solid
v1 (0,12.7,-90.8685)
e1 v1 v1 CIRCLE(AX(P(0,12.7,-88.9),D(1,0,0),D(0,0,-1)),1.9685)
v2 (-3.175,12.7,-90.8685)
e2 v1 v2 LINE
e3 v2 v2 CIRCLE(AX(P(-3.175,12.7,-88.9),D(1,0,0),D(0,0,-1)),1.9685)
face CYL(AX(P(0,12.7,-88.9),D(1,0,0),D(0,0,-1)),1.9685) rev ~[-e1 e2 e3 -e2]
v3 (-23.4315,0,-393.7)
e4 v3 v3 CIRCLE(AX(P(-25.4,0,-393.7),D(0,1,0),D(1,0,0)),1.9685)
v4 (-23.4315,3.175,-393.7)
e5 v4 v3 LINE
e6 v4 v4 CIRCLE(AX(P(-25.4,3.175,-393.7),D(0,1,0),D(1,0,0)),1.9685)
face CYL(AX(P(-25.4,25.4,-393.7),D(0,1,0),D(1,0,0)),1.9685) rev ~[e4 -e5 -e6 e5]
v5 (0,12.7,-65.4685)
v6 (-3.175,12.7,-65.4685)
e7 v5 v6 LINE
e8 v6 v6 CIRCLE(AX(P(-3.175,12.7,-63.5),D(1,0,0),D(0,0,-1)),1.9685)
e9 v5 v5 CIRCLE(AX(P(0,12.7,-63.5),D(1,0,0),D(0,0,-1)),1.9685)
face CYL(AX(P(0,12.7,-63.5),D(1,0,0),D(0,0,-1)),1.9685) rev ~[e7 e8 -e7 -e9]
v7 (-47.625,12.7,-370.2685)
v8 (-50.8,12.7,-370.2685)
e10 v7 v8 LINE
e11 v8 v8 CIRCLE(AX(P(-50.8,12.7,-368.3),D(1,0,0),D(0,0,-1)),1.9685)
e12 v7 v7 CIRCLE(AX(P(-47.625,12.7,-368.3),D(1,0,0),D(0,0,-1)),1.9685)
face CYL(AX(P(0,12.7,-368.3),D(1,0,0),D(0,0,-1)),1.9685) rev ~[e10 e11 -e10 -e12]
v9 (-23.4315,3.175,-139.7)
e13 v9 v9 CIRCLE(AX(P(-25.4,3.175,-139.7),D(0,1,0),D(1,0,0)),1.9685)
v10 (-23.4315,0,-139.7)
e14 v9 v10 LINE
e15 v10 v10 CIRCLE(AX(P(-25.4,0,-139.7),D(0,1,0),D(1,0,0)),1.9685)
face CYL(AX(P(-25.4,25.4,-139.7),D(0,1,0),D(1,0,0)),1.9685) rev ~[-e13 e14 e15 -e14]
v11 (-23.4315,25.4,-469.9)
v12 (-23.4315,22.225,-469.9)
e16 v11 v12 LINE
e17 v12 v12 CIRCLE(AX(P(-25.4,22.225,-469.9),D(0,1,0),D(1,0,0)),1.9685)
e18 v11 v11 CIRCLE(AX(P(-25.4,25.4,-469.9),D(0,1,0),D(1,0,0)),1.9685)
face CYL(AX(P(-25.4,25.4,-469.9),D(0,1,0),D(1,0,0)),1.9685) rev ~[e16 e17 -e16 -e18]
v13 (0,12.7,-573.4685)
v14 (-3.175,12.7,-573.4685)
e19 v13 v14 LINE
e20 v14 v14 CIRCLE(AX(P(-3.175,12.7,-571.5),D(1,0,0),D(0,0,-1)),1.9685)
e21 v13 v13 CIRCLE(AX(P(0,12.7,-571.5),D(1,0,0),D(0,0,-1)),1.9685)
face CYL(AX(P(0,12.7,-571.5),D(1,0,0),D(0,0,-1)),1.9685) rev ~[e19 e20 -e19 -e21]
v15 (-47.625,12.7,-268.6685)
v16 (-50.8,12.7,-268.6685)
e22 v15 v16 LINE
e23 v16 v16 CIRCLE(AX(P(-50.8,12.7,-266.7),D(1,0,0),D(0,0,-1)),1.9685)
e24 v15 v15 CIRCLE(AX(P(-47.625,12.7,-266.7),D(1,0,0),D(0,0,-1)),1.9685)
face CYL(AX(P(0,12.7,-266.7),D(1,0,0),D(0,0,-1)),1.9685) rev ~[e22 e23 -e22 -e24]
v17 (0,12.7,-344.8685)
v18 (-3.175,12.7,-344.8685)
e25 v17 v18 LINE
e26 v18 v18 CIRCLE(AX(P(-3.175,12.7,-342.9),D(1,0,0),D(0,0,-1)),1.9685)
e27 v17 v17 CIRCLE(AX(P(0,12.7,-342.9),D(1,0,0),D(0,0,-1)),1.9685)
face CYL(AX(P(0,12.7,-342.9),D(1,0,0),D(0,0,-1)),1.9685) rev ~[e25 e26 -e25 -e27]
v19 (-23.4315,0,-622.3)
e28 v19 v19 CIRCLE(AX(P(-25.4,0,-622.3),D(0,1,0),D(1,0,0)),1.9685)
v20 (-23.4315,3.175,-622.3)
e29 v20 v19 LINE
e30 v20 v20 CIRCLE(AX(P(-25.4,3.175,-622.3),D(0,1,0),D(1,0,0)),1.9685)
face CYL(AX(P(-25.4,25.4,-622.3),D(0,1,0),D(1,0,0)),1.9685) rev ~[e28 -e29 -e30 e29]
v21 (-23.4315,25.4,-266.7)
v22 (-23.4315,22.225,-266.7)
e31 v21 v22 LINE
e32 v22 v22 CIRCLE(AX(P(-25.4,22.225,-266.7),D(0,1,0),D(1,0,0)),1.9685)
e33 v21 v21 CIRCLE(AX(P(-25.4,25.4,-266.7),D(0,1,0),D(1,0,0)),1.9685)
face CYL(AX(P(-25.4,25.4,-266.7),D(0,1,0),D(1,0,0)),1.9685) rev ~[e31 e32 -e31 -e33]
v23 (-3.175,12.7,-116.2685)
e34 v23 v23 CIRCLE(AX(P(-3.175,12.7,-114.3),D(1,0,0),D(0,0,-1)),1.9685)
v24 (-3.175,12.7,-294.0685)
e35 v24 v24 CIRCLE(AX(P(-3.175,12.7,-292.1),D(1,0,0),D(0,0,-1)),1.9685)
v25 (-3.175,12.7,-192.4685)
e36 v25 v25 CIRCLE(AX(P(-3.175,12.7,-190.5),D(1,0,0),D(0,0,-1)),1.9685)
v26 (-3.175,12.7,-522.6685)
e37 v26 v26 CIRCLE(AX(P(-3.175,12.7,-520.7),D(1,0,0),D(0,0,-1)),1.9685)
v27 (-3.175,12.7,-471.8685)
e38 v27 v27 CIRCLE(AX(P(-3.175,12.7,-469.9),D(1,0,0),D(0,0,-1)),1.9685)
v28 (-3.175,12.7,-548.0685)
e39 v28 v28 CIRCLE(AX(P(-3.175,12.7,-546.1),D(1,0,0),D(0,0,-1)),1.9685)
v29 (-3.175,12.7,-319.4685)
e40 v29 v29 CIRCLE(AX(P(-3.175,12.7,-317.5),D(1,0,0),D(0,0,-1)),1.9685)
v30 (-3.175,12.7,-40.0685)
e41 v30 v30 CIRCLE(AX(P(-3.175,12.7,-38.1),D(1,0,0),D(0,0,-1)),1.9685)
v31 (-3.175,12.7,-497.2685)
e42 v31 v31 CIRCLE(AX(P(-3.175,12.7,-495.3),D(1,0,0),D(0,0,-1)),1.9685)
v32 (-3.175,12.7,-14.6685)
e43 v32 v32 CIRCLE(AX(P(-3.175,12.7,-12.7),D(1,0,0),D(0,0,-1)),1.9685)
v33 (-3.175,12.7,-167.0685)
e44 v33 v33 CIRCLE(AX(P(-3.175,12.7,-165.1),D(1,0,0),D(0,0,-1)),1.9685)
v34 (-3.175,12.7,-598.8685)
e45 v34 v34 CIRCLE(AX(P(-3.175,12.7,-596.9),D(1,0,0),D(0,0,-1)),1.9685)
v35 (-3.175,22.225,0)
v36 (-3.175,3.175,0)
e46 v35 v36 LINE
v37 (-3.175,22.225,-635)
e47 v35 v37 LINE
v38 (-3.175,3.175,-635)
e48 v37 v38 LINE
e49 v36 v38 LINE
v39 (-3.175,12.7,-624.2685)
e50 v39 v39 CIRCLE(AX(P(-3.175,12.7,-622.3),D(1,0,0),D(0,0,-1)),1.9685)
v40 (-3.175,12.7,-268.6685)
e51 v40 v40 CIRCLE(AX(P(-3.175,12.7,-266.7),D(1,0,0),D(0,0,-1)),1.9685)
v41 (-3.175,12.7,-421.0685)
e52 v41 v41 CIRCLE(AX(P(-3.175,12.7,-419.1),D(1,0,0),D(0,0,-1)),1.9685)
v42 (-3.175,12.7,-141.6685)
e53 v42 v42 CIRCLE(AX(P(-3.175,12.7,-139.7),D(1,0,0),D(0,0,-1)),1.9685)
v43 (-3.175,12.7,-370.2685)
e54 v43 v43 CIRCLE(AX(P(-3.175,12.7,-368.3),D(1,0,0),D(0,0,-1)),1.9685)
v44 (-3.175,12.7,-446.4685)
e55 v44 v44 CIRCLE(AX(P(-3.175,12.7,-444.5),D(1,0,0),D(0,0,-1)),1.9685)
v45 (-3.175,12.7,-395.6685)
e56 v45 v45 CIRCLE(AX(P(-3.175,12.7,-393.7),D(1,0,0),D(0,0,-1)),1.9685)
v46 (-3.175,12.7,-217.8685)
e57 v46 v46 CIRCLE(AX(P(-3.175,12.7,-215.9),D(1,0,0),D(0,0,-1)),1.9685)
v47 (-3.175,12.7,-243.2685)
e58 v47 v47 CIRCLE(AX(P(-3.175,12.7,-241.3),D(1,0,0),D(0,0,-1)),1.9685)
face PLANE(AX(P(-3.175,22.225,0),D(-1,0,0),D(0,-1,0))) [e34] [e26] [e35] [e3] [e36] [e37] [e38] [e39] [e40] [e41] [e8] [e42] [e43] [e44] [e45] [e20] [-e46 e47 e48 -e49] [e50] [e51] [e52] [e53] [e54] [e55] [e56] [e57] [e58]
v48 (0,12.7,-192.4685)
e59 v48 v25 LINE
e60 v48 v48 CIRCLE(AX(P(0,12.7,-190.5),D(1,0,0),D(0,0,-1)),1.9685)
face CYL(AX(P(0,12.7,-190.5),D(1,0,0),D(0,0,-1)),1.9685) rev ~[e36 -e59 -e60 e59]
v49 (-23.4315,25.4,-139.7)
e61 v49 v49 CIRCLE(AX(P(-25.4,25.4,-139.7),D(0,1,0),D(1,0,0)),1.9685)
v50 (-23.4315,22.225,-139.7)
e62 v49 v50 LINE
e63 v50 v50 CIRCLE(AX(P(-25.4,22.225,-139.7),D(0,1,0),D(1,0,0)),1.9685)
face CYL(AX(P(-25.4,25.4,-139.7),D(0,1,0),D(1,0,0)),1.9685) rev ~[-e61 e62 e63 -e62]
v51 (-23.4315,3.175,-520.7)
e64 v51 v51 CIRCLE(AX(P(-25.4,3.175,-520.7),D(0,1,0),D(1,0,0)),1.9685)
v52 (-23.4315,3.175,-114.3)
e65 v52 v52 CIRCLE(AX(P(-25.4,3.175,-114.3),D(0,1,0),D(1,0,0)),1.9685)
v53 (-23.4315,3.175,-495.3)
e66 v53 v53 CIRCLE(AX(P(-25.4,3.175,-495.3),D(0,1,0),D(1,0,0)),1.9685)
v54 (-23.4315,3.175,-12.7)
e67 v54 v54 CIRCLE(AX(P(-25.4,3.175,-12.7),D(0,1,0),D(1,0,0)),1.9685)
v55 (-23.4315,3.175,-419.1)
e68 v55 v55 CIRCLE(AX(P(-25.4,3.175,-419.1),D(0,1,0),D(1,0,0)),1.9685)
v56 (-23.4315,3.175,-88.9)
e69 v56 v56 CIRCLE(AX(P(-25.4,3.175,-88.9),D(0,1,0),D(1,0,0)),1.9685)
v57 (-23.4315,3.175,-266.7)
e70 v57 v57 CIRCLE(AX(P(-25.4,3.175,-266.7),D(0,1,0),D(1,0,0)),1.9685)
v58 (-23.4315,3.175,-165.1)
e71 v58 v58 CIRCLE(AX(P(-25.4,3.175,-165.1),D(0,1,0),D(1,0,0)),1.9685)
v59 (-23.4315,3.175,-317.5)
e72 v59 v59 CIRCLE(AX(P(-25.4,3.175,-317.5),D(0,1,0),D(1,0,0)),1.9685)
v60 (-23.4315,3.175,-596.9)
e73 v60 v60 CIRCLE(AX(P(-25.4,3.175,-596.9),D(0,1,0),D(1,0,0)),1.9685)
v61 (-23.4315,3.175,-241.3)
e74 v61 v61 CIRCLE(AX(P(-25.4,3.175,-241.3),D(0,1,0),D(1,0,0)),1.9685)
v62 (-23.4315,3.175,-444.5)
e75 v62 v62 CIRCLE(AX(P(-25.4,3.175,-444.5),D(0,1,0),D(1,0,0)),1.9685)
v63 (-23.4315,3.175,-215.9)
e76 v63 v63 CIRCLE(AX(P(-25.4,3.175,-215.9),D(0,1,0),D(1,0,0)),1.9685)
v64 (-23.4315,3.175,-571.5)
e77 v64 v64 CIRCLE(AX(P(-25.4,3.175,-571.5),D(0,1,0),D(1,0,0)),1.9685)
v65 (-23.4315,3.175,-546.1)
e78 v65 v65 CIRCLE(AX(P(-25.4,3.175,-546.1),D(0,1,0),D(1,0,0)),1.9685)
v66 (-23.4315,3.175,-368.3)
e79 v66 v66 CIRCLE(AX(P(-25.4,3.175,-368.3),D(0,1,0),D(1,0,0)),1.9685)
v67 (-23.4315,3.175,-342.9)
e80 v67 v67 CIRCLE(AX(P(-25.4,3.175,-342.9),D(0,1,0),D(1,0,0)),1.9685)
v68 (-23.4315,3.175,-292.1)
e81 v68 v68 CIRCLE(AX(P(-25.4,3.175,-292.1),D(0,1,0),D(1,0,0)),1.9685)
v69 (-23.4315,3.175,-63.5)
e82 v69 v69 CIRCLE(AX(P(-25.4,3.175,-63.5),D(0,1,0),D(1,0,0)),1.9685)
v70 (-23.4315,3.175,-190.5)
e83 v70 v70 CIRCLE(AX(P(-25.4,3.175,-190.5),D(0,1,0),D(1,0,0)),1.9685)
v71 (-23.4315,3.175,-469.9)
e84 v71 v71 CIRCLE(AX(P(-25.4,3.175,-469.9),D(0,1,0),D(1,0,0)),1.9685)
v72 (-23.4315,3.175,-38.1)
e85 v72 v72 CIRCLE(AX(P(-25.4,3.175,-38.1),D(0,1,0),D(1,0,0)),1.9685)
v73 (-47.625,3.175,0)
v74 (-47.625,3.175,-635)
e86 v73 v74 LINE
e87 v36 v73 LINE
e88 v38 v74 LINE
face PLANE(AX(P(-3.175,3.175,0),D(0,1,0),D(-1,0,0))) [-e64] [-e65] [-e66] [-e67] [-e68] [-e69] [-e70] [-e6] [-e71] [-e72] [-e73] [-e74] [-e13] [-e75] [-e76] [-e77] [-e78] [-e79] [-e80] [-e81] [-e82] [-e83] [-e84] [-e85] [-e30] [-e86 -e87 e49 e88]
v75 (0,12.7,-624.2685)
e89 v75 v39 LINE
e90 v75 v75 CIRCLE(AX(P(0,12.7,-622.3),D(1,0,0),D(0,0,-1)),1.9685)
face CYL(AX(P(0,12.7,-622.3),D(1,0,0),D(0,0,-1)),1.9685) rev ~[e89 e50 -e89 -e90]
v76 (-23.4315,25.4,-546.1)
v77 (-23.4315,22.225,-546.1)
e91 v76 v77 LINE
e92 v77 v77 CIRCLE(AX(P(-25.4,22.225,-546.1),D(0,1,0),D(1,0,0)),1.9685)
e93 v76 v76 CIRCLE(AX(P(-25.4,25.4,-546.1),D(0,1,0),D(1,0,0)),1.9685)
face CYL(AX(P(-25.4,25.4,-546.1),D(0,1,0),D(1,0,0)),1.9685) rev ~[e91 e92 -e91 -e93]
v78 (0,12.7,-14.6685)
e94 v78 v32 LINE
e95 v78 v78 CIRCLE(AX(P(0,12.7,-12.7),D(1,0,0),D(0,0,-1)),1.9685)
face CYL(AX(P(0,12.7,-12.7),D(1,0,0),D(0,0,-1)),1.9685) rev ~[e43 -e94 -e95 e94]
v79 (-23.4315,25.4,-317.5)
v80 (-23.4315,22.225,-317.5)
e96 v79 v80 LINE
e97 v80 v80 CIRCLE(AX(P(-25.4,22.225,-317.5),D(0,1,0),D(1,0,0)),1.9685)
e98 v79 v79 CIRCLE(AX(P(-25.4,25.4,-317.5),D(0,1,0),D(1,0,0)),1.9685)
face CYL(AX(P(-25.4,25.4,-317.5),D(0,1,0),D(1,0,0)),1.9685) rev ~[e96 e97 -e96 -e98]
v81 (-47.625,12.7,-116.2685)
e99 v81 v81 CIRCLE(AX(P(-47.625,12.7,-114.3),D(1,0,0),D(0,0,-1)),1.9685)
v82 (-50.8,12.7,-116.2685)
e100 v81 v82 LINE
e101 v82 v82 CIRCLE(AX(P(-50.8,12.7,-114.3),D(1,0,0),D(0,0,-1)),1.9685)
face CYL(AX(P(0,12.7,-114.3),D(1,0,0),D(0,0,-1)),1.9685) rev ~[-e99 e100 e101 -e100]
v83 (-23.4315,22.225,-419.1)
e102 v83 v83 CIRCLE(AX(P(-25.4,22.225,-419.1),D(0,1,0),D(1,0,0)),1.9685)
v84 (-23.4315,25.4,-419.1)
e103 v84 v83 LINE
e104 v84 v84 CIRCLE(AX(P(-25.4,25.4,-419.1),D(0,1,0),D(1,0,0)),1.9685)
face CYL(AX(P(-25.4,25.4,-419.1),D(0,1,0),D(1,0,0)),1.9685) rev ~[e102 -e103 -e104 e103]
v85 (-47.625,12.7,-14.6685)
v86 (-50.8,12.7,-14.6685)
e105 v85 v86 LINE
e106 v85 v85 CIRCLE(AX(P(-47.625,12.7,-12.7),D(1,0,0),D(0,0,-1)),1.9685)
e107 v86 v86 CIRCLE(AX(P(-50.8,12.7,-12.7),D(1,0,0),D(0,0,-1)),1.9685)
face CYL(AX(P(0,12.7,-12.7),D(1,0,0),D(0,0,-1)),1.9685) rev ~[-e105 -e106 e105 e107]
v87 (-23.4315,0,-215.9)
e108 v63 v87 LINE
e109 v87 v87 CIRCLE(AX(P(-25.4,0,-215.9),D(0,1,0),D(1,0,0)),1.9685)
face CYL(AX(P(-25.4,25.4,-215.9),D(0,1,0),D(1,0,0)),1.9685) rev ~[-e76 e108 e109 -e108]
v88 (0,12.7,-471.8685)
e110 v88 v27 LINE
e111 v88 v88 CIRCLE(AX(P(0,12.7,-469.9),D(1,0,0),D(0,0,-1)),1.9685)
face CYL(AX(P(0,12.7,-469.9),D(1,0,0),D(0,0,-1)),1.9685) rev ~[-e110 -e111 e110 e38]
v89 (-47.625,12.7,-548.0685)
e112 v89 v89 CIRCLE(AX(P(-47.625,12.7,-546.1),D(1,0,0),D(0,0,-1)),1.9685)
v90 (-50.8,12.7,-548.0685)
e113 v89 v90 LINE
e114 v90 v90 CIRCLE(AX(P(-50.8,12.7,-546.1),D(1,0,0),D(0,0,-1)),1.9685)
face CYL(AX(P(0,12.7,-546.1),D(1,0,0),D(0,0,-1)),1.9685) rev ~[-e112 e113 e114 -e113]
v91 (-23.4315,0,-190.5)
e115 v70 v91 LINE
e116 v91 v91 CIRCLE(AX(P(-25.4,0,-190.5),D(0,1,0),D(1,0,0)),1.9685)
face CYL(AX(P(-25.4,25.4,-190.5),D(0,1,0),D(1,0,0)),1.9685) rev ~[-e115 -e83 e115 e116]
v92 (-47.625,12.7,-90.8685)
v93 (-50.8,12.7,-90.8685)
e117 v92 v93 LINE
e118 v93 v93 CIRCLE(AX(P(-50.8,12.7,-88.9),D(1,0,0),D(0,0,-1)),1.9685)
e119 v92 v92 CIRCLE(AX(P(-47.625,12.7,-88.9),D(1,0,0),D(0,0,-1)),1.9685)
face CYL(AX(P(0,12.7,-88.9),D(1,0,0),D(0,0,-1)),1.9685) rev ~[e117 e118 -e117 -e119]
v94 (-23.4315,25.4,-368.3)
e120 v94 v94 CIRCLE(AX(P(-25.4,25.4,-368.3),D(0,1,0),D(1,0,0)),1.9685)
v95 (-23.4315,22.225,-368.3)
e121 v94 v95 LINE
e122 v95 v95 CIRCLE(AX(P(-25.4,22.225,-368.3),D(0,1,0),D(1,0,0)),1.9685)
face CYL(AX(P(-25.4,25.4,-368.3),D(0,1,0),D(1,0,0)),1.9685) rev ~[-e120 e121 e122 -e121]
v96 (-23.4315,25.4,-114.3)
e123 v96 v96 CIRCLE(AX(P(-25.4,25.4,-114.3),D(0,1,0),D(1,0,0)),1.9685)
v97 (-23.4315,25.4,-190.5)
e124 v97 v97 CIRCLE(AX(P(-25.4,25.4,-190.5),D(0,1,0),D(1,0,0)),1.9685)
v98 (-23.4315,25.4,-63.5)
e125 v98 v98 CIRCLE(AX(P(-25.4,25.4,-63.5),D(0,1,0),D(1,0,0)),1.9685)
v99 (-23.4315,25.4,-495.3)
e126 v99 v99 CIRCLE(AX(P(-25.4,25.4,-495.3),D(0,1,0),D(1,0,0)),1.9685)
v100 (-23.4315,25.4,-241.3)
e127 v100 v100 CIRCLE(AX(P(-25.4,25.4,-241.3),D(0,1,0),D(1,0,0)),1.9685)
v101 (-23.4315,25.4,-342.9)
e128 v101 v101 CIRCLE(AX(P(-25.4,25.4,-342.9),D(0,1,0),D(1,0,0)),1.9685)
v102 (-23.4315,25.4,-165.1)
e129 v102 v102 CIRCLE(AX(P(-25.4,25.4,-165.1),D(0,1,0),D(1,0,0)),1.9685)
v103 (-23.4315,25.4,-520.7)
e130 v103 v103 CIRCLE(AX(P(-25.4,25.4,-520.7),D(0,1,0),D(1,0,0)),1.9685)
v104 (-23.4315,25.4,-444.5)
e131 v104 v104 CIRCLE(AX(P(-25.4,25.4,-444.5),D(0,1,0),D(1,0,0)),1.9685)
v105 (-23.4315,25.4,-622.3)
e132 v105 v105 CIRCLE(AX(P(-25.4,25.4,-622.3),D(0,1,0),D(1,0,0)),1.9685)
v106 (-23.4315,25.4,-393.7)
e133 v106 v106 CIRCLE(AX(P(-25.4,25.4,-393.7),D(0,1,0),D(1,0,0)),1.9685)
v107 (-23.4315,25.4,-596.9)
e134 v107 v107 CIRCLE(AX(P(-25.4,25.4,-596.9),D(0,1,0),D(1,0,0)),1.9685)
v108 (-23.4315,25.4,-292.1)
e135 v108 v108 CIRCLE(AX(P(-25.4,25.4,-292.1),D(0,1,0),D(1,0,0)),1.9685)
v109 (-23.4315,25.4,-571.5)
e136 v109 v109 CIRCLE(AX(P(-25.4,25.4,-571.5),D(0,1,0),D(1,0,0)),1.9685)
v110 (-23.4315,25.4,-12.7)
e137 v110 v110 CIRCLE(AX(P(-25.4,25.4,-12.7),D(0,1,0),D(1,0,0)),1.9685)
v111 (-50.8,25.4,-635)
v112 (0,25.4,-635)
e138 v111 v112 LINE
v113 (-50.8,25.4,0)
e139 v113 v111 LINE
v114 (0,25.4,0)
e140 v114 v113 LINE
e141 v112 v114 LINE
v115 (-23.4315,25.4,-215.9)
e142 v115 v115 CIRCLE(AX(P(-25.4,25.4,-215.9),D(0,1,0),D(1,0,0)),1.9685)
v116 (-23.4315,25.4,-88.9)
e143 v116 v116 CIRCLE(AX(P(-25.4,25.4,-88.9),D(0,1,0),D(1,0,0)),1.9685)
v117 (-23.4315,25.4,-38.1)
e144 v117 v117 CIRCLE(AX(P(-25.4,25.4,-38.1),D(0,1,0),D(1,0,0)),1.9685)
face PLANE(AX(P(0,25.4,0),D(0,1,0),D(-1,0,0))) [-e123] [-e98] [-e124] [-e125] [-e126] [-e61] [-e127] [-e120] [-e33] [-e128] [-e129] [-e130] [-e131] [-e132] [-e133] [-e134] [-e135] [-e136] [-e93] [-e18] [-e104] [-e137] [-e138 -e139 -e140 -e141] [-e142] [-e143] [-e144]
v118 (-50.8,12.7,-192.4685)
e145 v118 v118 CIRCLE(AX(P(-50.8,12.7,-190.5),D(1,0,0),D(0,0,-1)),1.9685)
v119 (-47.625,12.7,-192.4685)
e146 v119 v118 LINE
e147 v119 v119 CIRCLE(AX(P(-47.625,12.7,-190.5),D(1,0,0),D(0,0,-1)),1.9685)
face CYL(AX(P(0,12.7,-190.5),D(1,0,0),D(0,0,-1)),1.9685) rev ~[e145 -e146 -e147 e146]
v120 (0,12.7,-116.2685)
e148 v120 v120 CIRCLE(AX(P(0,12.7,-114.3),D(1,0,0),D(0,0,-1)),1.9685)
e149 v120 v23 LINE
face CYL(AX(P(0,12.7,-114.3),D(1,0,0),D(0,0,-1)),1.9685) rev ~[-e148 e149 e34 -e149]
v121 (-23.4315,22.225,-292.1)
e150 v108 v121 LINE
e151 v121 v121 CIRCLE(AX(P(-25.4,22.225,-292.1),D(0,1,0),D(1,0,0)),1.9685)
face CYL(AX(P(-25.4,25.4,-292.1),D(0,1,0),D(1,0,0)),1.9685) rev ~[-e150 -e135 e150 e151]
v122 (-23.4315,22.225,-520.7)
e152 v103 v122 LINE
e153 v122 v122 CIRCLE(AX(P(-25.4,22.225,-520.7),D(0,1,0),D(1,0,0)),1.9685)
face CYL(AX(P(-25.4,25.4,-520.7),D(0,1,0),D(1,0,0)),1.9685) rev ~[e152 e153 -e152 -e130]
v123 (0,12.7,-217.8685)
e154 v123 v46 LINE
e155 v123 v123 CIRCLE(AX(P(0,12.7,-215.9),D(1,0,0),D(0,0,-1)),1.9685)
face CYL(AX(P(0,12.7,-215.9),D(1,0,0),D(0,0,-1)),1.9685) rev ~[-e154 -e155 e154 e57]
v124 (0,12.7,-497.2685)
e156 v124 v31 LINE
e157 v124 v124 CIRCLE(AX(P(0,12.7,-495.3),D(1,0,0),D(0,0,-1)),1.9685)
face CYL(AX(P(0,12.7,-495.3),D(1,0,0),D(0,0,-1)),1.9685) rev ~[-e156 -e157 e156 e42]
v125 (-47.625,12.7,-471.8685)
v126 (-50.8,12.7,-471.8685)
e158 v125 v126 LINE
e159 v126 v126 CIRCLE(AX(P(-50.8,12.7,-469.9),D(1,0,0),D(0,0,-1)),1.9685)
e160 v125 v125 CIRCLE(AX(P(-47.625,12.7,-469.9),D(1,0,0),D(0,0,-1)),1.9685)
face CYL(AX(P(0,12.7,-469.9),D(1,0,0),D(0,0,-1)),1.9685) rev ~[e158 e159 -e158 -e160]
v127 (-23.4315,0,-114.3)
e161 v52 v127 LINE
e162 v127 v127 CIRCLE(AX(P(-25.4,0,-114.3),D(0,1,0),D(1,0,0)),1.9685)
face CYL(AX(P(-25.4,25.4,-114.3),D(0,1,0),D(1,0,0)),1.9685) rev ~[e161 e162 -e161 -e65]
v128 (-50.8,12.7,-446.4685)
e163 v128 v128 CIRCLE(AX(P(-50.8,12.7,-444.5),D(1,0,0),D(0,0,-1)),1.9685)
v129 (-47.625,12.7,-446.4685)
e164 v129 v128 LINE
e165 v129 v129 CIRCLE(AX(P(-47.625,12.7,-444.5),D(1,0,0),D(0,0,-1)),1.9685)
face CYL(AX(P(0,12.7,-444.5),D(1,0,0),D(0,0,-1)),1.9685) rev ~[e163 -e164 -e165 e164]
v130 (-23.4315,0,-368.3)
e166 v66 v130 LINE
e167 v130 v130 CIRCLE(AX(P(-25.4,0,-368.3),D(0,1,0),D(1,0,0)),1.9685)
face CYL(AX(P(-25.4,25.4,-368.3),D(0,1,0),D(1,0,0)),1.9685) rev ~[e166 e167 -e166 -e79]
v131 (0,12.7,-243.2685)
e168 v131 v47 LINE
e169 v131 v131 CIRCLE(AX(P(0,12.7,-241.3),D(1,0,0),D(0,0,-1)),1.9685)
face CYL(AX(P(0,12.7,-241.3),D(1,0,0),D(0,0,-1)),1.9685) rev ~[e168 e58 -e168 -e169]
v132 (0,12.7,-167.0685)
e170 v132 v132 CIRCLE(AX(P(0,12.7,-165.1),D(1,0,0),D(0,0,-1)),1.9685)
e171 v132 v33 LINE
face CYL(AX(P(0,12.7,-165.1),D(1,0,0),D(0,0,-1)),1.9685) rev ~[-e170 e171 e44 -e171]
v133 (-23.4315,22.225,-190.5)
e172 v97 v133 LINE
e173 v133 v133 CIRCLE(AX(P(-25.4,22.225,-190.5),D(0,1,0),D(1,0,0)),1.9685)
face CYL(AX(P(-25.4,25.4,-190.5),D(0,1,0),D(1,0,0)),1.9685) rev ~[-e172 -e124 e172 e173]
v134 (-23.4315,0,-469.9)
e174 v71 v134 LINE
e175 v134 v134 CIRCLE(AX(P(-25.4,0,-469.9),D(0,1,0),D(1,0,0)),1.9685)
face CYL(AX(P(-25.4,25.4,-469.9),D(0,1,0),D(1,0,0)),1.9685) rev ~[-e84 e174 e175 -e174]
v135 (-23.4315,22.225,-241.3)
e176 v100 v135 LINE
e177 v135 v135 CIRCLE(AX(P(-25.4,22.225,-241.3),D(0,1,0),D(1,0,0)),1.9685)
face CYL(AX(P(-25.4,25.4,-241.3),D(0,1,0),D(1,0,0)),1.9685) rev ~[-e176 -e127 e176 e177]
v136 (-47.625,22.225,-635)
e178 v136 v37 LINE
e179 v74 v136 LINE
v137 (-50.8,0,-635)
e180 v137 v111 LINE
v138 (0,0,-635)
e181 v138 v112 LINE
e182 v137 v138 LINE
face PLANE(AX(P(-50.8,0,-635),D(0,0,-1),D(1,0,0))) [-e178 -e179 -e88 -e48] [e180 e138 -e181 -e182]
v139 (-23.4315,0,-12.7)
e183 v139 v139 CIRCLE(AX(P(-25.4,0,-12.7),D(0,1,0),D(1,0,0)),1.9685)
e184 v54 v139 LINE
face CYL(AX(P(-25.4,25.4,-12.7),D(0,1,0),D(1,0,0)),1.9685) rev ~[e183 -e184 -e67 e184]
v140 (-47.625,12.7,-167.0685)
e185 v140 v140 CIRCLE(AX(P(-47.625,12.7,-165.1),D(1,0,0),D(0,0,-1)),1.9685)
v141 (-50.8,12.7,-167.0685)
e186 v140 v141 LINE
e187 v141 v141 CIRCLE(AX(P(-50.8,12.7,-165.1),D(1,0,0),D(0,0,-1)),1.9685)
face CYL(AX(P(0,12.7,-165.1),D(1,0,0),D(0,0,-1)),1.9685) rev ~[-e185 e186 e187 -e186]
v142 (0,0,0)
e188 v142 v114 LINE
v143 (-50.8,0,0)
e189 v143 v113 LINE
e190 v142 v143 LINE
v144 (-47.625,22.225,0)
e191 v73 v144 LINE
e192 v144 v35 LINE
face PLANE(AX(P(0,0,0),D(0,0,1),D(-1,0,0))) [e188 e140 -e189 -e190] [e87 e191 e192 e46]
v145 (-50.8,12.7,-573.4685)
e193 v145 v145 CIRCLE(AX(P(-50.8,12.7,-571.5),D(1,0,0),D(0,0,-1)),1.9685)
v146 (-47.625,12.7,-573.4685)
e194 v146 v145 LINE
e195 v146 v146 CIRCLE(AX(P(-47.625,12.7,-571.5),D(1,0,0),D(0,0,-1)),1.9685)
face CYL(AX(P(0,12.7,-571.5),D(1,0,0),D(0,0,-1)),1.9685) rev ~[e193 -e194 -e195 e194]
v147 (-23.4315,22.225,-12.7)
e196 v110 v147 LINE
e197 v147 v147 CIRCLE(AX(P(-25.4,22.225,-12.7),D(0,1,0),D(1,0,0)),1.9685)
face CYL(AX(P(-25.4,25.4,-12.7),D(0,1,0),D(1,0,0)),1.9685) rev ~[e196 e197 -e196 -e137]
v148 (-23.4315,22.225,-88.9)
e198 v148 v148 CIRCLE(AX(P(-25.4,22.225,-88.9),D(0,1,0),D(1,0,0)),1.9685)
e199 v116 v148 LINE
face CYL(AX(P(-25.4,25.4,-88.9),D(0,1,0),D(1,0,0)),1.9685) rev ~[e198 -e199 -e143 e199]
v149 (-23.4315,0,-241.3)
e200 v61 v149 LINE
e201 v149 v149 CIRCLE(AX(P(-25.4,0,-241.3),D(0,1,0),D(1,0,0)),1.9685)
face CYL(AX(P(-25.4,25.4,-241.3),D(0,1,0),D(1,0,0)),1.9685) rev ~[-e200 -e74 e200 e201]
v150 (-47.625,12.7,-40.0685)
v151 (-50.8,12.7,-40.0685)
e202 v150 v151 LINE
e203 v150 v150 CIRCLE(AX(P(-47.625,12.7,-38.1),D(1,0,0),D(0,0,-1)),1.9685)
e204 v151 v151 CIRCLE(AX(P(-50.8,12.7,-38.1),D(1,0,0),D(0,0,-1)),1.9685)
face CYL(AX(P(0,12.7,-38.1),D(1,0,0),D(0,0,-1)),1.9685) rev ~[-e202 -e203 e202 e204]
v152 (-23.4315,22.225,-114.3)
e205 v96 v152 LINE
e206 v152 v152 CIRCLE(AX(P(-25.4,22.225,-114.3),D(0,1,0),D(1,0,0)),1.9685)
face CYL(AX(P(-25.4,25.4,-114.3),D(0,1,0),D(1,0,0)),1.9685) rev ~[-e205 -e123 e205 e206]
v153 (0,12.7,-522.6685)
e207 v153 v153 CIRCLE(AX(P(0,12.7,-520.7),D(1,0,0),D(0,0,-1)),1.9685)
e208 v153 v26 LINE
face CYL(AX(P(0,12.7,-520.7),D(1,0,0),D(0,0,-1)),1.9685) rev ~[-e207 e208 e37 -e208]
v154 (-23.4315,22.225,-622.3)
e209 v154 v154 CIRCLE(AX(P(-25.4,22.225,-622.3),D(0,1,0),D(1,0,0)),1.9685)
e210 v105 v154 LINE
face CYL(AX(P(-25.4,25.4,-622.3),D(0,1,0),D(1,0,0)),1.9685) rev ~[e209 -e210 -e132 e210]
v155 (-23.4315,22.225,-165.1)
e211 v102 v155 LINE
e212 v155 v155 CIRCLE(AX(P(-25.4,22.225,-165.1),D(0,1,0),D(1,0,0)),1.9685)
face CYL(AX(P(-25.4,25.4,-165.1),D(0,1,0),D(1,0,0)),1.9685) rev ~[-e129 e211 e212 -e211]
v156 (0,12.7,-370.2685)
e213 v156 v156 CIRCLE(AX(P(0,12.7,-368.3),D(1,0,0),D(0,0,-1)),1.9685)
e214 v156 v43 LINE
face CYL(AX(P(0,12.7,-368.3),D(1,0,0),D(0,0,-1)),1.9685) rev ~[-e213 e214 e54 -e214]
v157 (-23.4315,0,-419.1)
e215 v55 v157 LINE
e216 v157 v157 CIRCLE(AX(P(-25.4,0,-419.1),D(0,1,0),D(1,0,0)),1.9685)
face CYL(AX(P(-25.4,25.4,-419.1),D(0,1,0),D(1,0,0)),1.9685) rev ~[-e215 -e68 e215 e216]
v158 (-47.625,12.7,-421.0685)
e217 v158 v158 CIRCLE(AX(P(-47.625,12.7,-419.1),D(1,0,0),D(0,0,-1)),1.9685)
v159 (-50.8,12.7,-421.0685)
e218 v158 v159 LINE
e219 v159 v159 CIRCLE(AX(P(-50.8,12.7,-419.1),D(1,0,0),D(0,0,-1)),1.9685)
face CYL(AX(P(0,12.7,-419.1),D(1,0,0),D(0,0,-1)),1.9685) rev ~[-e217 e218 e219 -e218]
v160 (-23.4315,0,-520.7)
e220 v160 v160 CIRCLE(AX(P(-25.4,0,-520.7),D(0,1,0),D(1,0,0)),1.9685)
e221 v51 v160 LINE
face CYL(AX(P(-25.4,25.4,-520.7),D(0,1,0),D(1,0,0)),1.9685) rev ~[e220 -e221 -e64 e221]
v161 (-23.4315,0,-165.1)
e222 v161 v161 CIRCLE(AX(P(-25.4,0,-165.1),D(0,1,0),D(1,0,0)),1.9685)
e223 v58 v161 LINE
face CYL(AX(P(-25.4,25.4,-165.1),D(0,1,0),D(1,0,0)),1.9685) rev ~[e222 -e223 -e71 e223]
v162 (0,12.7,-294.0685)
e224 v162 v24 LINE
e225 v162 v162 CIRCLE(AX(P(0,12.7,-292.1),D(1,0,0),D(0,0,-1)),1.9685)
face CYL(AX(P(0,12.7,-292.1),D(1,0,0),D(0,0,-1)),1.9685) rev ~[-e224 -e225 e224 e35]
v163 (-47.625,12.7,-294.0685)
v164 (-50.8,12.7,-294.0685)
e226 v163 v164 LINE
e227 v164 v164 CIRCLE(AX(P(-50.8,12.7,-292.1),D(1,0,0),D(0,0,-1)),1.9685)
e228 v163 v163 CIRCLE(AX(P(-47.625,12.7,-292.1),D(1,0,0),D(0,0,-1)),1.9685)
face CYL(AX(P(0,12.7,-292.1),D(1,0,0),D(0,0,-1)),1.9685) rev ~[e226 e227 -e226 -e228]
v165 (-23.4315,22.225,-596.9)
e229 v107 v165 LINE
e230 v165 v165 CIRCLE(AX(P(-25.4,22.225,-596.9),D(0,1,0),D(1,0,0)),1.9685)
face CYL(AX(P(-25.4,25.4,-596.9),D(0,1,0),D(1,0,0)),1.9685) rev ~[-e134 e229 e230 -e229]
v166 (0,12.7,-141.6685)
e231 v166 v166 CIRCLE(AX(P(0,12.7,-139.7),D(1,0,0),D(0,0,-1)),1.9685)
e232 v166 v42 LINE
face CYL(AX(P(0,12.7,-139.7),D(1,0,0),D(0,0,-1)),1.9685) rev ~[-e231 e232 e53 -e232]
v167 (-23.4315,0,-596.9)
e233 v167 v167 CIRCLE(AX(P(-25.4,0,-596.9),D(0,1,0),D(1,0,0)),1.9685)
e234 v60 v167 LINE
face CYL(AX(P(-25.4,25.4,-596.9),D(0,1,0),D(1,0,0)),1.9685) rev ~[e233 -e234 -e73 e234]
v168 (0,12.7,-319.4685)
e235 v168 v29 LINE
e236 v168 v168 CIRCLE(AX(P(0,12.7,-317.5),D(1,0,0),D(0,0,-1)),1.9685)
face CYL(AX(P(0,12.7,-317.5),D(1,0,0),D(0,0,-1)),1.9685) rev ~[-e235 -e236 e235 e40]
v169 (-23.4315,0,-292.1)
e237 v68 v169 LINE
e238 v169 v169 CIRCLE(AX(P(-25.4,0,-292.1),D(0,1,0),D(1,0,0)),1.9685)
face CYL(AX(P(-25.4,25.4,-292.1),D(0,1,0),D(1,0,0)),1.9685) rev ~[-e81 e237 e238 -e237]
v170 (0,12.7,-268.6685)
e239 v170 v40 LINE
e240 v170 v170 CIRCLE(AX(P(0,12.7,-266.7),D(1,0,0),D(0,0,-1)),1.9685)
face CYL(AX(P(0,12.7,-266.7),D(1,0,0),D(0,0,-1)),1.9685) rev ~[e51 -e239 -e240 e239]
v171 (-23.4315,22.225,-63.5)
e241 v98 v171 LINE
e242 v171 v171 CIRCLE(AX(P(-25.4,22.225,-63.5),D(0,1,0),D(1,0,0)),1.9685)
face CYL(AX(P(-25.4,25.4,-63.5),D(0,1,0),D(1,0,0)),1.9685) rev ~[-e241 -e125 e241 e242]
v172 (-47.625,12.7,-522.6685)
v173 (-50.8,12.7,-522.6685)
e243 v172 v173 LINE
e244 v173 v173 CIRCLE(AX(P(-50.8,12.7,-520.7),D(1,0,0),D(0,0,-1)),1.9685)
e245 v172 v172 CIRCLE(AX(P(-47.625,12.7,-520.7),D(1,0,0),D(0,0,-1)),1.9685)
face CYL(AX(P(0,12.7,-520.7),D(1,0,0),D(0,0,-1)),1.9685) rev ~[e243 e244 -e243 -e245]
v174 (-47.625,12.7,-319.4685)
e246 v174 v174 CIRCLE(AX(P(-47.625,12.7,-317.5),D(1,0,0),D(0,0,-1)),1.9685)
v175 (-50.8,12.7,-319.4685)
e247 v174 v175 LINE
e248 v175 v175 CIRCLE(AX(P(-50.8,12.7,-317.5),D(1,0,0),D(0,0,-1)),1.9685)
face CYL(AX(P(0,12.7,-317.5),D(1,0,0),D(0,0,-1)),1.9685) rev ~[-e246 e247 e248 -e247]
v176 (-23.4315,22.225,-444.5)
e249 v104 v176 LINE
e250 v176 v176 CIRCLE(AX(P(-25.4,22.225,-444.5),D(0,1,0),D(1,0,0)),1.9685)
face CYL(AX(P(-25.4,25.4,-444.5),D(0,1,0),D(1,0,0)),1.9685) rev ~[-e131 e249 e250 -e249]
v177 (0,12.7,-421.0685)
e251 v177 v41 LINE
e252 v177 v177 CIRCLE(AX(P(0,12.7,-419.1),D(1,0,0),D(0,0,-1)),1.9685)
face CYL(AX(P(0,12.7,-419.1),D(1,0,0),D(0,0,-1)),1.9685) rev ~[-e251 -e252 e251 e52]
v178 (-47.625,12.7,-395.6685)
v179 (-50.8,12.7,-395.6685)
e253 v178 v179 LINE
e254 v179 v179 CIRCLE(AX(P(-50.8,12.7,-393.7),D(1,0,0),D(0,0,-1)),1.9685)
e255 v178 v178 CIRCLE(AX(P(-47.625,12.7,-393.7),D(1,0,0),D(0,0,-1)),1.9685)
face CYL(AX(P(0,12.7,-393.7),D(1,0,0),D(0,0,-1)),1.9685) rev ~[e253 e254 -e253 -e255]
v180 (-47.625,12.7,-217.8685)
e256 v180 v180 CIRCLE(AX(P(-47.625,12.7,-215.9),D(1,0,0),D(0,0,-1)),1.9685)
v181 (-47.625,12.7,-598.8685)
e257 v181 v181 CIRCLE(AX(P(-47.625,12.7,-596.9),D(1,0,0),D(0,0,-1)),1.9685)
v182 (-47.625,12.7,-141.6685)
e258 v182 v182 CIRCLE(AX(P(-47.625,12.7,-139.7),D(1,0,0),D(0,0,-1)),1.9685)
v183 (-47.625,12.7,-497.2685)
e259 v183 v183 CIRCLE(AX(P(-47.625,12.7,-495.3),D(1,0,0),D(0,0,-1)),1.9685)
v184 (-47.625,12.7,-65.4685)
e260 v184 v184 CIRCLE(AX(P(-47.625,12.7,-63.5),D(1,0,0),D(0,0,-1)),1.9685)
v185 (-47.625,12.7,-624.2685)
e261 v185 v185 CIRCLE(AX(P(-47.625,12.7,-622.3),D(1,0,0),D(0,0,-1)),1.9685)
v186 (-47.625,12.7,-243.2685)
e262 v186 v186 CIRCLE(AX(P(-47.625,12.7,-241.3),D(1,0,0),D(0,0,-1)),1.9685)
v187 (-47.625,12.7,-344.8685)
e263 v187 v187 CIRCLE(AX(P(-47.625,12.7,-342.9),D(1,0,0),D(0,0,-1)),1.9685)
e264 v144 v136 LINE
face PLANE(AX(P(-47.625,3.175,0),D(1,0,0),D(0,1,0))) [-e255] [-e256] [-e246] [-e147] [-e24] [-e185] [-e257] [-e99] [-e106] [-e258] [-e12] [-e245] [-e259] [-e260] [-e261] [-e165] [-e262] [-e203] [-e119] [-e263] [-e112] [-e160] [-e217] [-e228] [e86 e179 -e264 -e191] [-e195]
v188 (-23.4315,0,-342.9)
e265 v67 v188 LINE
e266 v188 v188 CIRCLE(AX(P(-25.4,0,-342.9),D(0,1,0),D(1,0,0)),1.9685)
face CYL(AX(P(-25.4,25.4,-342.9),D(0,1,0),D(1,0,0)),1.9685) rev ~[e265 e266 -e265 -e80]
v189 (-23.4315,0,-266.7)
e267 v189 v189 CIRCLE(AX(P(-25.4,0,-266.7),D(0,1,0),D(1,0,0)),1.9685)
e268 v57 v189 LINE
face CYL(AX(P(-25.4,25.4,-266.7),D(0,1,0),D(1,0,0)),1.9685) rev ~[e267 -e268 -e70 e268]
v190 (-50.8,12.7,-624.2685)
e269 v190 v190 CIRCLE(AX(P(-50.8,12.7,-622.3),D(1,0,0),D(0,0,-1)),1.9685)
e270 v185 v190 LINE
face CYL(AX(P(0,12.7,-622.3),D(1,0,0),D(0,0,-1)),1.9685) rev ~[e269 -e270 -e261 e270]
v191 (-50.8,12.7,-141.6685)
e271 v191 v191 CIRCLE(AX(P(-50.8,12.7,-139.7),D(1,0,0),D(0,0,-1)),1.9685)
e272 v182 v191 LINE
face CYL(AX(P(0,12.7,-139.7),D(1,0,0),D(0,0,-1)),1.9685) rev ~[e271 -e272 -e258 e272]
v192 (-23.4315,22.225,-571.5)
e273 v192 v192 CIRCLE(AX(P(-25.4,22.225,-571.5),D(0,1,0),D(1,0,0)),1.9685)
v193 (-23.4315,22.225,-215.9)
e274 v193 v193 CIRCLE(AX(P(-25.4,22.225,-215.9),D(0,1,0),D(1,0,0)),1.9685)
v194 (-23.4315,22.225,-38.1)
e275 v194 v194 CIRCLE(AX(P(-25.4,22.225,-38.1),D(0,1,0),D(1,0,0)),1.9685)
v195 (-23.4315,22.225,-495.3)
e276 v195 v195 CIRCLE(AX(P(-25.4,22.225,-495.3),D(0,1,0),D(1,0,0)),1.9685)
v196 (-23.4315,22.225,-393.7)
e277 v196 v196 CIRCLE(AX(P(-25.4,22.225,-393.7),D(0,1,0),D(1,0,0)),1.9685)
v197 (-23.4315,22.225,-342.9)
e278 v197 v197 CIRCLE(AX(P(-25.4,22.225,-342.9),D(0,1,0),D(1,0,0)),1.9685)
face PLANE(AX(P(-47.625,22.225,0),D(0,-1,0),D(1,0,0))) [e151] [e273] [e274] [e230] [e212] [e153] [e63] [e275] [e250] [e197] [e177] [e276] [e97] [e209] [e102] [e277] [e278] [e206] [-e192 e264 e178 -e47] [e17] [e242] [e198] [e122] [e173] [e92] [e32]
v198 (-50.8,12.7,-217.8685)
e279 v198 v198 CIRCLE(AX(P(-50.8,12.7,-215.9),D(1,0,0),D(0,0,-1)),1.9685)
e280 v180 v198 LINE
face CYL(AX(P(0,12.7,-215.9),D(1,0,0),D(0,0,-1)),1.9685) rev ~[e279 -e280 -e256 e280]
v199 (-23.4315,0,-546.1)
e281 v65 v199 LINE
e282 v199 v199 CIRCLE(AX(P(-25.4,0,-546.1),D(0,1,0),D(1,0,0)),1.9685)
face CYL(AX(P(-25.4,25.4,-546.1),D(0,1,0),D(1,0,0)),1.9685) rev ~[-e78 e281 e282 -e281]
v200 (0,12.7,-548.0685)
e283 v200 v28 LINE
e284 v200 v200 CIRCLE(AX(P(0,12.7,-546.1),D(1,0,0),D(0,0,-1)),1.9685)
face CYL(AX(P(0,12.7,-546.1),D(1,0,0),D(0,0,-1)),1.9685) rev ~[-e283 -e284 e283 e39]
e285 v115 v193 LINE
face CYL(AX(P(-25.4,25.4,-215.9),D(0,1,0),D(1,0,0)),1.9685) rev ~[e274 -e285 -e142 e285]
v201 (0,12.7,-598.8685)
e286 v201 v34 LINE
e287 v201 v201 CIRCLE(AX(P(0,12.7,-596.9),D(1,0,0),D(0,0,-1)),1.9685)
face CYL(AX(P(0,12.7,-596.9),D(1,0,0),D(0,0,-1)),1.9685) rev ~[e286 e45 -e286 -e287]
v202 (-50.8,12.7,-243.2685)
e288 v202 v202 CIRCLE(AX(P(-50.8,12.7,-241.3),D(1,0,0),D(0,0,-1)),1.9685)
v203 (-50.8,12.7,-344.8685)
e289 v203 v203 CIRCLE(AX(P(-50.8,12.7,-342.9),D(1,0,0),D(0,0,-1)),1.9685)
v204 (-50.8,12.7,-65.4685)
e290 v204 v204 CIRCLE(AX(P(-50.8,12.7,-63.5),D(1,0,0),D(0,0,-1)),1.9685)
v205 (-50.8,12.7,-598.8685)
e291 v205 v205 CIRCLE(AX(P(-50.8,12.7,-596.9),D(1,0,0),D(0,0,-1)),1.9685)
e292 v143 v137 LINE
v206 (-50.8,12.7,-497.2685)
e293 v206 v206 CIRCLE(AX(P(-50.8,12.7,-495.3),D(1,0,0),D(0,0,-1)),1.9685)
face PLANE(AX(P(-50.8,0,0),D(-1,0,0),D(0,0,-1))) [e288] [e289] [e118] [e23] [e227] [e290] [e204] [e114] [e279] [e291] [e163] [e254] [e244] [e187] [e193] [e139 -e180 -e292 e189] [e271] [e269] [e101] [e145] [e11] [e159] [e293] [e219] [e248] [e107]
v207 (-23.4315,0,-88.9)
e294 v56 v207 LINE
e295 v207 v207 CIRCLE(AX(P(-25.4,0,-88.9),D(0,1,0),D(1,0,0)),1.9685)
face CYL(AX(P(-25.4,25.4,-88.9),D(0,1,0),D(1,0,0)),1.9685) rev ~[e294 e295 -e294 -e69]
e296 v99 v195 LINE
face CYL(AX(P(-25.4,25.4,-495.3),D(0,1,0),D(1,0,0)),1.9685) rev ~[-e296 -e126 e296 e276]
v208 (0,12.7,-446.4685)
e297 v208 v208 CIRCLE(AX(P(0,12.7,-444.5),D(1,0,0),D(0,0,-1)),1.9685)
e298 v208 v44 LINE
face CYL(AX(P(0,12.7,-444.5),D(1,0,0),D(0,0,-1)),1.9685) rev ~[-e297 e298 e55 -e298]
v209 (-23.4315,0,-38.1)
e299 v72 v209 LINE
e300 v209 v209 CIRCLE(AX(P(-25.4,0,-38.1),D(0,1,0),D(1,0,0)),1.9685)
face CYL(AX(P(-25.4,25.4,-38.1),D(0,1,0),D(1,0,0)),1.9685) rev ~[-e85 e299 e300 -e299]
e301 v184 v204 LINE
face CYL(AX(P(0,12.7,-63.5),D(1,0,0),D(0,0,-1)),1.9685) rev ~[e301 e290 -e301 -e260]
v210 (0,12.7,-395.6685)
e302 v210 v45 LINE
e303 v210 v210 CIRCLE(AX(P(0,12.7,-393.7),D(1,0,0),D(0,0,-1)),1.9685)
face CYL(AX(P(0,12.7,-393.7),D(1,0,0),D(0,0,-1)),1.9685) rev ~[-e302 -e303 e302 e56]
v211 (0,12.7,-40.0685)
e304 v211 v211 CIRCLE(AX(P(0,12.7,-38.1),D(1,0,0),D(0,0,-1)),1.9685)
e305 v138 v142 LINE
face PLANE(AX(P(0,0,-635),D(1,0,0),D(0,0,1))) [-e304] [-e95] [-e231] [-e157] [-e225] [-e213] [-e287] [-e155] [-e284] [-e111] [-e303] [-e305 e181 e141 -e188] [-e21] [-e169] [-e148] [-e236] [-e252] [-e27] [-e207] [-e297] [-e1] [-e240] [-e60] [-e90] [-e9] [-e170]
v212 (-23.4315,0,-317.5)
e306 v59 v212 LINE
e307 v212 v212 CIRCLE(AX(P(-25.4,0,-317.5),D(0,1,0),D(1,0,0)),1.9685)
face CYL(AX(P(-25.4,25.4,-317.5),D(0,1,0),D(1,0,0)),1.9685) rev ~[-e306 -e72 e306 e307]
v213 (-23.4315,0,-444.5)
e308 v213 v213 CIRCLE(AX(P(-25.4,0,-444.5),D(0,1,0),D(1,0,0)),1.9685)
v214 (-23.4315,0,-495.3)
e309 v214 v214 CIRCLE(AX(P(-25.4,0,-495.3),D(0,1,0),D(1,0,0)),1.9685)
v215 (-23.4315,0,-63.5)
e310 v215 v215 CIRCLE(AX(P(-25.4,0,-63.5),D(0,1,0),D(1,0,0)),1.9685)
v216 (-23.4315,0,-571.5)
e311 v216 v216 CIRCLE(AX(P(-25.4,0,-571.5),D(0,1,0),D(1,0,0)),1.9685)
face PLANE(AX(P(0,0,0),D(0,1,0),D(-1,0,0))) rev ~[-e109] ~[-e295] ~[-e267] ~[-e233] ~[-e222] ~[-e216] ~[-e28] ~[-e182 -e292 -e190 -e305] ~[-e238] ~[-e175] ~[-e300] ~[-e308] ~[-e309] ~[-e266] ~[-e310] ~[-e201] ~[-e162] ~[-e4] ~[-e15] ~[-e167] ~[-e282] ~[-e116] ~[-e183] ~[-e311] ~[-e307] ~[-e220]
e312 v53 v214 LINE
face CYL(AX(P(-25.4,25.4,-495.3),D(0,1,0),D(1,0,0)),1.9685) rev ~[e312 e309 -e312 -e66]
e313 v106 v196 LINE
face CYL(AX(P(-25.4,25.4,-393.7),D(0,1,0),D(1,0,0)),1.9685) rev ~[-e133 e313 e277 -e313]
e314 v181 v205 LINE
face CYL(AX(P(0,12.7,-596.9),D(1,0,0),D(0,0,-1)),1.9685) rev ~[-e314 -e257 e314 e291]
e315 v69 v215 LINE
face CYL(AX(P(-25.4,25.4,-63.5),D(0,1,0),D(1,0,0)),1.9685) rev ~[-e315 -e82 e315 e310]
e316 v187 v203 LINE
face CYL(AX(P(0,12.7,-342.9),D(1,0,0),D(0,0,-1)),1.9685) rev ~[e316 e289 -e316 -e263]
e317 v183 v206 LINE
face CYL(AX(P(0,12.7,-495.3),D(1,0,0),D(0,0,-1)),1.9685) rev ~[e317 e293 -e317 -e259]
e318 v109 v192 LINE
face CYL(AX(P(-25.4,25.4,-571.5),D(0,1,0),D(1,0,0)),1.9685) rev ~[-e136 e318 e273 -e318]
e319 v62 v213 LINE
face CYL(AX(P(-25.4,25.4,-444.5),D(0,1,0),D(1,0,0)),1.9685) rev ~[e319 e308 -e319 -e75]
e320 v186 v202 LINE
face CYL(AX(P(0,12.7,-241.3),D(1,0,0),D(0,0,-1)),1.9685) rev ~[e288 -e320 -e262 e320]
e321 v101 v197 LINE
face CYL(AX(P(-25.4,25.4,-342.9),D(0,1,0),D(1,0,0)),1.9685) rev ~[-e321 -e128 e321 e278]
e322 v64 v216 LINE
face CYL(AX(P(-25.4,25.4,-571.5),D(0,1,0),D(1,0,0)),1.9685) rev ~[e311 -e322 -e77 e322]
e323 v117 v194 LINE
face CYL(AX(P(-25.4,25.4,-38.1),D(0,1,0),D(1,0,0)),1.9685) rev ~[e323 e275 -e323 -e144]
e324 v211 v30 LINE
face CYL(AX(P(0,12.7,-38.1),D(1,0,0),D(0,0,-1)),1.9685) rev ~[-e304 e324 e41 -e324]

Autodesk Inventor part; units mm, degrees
ref_plane "YZ Plane" through (0, 0, 0) normal (1, 0, 0) x (0, 1, 0)
ref_plane "XZ Plane" through (0, 0, 0) normal (0, 1, 0) x (-1, 0, 0)
ref_plane "XY Plane" through (0, 0, 0) normal (0, 0, 1) x (1, 0, 0)
sketch "Sketch1" plane through (0, 0, 0) normal (0, 1, 0) x (-1, 0, 0)
  line L0 (0, 0) -> (50.8, 0)
  line L1 (50.8, 0) -> (50.8, -635)
  line L2 (50.8, -635) -> (0, -635)
  line L3 (0, -635) -> (0, 0)
  dimension "d0" = 50.8
  dimension "d1" = 635
extrude "Extrusion1" add sketch "Sketch1" along normal blind 25.4
sketch "Sketch2" plane through (0, 25.4, 0) normal (0, 1, 0) x (1, 0, 0)
  circle A0 centre (-25.4, 12.7) radius 1.9685
  line L0 (-50.8, 0) -> (0, 0) projected
  line L1 (0, 0) -> (0, 635) projected
  circle A1 centre (-25.4, 38.1) radius 1.9685
  circle A2 centre (-25.4, 63.5) radius 1.9685
  circle A3 centre (-25.4, 88.9) radius 1.9685
  circle A4 centre (-25.4, 114.3) radius 1.9685
  circle A5 centre (-25.4, 139.7) radius 1.9685
  circle A6 centre (-25.4, 165.1) radius 1.9685
  circle A7 centre (-25.4, 190.5) radius 1.9685
  circle A8 centre (-25.4, 215.9) radius 1.9685
  circle A9 centre (-25.4, 241.3) radius 1.9685
  circle A10 centre (-25.4, 266.7) radius 1.9685
  circle A11 centre (-25.4, 292.1) radius 1.9685
  circle A12 centre (-25.4, 317.5) radius 1.9685
  circle A13 centre (-25.4, 342.9) radius 1.9685
  circle A14 centre (-25.4, 368.3) radius 1.9685
  circle A15 centre (-25.4, 393.7) radius 1.9685
  circle A16 centre (-25.4, 419.1) radius 1.9685
  circle A17 centre (-25.4, 444.5) radius 1.9685
  circle A18 centre (-25.4, 469.9) radius 1.9685
  circle A19 centre (-25.4, 495.3) radius 1.9685
  circle A20 centre (-25.4, 520.7) radius 1.9685
  circle A21 centre (-25.4, 546.1) radius 1.9685
  circle A22 centre (-25.4, 571.5) radius 1.9685
  circle A23 centre (-25.4, 596.9) radius 1.9685
  circle A24 centre (-25.4, 622.3) radius 1.9685
  dimension "d4" = 3.937
  dimension "d5" = 12.7
  dimension "d6" = 25.4
  dimension "d9" = 25.4
extrude "Extrusion2" cut sketch "Sketch2" against normal blind 25.4
sketch "Sketch3" plane through (-50.8, 0, 0) normal (0, 0, 1) x (1, 0, 0)
  line L0 (3.175, 22.225) -> (47.625, 22.225)
  line L1 (47.625, 22.225) -> (47.625, 3.175)
  line L2 (47.625, 3.175) -> (3.175, 3.175)
  line L3 (3.175, 3.175) -> (3.175, 22.225)
  line L4 (0, 25.4) -> (50.8, 25.4) projected
  line L5 (0, 0) -> (0, 25.4) projected
  line L6 (50.8, 0) -> (0, 0) projected
  line L7 (50.8, 0) -> (50.8, 25.4) projected
  dimension "d16" = 3.175
  dimension "d17" = 3.175
  dimension "d18" = 3.175
  dimension "d19" = 3.175
extrude "Extrusion3" cut sketch "Sketch3" against normal blind 635 contours L0 L1 L2 L3
sketch "Sketch4" plane through (0, 0, 0) normal (1, 0, 0) x (0, 0, -1)
  circle A0 centre (12.7, 12.7) radius 1.9685
  line L0 (0, 25.4) -> (635, 25.4) projected
  line L1 (0, 0) -> (0, 25.4) projected
  circle A1 centre (38.1, 12.7) radius 1.9685
  circle A2 centre (63.5, 12.7) radius 1.9685
  circle A3 centre (88.9, 12.7) radius 1.9685
  circle A4 centre (114.3, 12.7) radius 1.9685
  circle A5 centre (139.7, 12.7) radius 1.9685
  circle A6 centre (165.1, 12.7) radius 1.9685
  circle A7 centre (190.5, 12.7) radius 1.9685
  circle A8 centre (215.9, 12.7) radius 1.9685
  circle A9 centre (241.3, 12.7) radius 1.9685
  circle A10 centre (266.7, 12.7) radius 1.9685
  circle A11 centre (292.1, 12.7) radius 1.9685
  circle A12 centre (317.5, 12.7) radius 1.9685
  circle A13 centre (342.9, 12.7) radius 1.9685
  circle A14 centre (368.3, 12.7) radius 1.9685
  circle A15 centre (393.7, 12.7) radius 1.9685
  circle A16 centre (419.1, 12.7) radius 1.9685
  circle A17 centre (444.5, 12.7) radius 1.9685
  circle A18 centre (469.9, 12.7) radius 1.9685
  circle A19 centre (495.3, 12.7) radius 1.9685
  circle A20 centre (520.7, 12.7) radius 1.9685
  circle A21 centre (546.1, 12.7) radius 1.9685
  circle A22 centre (571.5, 12.7) radius 1.9685
  circle A23 centre (596.9, 12.7) radius 1.9685
  circle A24 centre (622.3, 12.7) radius 1.9685
  dimension "d22" = 3.937
  dimension "d23" = 12.7
  dimension "d24" = 12.7
  dimension "d27" = 25.4
extrude "Extrusion4" cut sketch "Sketch4" against normal blind 50.8
properties part number "kermit frame 8"
